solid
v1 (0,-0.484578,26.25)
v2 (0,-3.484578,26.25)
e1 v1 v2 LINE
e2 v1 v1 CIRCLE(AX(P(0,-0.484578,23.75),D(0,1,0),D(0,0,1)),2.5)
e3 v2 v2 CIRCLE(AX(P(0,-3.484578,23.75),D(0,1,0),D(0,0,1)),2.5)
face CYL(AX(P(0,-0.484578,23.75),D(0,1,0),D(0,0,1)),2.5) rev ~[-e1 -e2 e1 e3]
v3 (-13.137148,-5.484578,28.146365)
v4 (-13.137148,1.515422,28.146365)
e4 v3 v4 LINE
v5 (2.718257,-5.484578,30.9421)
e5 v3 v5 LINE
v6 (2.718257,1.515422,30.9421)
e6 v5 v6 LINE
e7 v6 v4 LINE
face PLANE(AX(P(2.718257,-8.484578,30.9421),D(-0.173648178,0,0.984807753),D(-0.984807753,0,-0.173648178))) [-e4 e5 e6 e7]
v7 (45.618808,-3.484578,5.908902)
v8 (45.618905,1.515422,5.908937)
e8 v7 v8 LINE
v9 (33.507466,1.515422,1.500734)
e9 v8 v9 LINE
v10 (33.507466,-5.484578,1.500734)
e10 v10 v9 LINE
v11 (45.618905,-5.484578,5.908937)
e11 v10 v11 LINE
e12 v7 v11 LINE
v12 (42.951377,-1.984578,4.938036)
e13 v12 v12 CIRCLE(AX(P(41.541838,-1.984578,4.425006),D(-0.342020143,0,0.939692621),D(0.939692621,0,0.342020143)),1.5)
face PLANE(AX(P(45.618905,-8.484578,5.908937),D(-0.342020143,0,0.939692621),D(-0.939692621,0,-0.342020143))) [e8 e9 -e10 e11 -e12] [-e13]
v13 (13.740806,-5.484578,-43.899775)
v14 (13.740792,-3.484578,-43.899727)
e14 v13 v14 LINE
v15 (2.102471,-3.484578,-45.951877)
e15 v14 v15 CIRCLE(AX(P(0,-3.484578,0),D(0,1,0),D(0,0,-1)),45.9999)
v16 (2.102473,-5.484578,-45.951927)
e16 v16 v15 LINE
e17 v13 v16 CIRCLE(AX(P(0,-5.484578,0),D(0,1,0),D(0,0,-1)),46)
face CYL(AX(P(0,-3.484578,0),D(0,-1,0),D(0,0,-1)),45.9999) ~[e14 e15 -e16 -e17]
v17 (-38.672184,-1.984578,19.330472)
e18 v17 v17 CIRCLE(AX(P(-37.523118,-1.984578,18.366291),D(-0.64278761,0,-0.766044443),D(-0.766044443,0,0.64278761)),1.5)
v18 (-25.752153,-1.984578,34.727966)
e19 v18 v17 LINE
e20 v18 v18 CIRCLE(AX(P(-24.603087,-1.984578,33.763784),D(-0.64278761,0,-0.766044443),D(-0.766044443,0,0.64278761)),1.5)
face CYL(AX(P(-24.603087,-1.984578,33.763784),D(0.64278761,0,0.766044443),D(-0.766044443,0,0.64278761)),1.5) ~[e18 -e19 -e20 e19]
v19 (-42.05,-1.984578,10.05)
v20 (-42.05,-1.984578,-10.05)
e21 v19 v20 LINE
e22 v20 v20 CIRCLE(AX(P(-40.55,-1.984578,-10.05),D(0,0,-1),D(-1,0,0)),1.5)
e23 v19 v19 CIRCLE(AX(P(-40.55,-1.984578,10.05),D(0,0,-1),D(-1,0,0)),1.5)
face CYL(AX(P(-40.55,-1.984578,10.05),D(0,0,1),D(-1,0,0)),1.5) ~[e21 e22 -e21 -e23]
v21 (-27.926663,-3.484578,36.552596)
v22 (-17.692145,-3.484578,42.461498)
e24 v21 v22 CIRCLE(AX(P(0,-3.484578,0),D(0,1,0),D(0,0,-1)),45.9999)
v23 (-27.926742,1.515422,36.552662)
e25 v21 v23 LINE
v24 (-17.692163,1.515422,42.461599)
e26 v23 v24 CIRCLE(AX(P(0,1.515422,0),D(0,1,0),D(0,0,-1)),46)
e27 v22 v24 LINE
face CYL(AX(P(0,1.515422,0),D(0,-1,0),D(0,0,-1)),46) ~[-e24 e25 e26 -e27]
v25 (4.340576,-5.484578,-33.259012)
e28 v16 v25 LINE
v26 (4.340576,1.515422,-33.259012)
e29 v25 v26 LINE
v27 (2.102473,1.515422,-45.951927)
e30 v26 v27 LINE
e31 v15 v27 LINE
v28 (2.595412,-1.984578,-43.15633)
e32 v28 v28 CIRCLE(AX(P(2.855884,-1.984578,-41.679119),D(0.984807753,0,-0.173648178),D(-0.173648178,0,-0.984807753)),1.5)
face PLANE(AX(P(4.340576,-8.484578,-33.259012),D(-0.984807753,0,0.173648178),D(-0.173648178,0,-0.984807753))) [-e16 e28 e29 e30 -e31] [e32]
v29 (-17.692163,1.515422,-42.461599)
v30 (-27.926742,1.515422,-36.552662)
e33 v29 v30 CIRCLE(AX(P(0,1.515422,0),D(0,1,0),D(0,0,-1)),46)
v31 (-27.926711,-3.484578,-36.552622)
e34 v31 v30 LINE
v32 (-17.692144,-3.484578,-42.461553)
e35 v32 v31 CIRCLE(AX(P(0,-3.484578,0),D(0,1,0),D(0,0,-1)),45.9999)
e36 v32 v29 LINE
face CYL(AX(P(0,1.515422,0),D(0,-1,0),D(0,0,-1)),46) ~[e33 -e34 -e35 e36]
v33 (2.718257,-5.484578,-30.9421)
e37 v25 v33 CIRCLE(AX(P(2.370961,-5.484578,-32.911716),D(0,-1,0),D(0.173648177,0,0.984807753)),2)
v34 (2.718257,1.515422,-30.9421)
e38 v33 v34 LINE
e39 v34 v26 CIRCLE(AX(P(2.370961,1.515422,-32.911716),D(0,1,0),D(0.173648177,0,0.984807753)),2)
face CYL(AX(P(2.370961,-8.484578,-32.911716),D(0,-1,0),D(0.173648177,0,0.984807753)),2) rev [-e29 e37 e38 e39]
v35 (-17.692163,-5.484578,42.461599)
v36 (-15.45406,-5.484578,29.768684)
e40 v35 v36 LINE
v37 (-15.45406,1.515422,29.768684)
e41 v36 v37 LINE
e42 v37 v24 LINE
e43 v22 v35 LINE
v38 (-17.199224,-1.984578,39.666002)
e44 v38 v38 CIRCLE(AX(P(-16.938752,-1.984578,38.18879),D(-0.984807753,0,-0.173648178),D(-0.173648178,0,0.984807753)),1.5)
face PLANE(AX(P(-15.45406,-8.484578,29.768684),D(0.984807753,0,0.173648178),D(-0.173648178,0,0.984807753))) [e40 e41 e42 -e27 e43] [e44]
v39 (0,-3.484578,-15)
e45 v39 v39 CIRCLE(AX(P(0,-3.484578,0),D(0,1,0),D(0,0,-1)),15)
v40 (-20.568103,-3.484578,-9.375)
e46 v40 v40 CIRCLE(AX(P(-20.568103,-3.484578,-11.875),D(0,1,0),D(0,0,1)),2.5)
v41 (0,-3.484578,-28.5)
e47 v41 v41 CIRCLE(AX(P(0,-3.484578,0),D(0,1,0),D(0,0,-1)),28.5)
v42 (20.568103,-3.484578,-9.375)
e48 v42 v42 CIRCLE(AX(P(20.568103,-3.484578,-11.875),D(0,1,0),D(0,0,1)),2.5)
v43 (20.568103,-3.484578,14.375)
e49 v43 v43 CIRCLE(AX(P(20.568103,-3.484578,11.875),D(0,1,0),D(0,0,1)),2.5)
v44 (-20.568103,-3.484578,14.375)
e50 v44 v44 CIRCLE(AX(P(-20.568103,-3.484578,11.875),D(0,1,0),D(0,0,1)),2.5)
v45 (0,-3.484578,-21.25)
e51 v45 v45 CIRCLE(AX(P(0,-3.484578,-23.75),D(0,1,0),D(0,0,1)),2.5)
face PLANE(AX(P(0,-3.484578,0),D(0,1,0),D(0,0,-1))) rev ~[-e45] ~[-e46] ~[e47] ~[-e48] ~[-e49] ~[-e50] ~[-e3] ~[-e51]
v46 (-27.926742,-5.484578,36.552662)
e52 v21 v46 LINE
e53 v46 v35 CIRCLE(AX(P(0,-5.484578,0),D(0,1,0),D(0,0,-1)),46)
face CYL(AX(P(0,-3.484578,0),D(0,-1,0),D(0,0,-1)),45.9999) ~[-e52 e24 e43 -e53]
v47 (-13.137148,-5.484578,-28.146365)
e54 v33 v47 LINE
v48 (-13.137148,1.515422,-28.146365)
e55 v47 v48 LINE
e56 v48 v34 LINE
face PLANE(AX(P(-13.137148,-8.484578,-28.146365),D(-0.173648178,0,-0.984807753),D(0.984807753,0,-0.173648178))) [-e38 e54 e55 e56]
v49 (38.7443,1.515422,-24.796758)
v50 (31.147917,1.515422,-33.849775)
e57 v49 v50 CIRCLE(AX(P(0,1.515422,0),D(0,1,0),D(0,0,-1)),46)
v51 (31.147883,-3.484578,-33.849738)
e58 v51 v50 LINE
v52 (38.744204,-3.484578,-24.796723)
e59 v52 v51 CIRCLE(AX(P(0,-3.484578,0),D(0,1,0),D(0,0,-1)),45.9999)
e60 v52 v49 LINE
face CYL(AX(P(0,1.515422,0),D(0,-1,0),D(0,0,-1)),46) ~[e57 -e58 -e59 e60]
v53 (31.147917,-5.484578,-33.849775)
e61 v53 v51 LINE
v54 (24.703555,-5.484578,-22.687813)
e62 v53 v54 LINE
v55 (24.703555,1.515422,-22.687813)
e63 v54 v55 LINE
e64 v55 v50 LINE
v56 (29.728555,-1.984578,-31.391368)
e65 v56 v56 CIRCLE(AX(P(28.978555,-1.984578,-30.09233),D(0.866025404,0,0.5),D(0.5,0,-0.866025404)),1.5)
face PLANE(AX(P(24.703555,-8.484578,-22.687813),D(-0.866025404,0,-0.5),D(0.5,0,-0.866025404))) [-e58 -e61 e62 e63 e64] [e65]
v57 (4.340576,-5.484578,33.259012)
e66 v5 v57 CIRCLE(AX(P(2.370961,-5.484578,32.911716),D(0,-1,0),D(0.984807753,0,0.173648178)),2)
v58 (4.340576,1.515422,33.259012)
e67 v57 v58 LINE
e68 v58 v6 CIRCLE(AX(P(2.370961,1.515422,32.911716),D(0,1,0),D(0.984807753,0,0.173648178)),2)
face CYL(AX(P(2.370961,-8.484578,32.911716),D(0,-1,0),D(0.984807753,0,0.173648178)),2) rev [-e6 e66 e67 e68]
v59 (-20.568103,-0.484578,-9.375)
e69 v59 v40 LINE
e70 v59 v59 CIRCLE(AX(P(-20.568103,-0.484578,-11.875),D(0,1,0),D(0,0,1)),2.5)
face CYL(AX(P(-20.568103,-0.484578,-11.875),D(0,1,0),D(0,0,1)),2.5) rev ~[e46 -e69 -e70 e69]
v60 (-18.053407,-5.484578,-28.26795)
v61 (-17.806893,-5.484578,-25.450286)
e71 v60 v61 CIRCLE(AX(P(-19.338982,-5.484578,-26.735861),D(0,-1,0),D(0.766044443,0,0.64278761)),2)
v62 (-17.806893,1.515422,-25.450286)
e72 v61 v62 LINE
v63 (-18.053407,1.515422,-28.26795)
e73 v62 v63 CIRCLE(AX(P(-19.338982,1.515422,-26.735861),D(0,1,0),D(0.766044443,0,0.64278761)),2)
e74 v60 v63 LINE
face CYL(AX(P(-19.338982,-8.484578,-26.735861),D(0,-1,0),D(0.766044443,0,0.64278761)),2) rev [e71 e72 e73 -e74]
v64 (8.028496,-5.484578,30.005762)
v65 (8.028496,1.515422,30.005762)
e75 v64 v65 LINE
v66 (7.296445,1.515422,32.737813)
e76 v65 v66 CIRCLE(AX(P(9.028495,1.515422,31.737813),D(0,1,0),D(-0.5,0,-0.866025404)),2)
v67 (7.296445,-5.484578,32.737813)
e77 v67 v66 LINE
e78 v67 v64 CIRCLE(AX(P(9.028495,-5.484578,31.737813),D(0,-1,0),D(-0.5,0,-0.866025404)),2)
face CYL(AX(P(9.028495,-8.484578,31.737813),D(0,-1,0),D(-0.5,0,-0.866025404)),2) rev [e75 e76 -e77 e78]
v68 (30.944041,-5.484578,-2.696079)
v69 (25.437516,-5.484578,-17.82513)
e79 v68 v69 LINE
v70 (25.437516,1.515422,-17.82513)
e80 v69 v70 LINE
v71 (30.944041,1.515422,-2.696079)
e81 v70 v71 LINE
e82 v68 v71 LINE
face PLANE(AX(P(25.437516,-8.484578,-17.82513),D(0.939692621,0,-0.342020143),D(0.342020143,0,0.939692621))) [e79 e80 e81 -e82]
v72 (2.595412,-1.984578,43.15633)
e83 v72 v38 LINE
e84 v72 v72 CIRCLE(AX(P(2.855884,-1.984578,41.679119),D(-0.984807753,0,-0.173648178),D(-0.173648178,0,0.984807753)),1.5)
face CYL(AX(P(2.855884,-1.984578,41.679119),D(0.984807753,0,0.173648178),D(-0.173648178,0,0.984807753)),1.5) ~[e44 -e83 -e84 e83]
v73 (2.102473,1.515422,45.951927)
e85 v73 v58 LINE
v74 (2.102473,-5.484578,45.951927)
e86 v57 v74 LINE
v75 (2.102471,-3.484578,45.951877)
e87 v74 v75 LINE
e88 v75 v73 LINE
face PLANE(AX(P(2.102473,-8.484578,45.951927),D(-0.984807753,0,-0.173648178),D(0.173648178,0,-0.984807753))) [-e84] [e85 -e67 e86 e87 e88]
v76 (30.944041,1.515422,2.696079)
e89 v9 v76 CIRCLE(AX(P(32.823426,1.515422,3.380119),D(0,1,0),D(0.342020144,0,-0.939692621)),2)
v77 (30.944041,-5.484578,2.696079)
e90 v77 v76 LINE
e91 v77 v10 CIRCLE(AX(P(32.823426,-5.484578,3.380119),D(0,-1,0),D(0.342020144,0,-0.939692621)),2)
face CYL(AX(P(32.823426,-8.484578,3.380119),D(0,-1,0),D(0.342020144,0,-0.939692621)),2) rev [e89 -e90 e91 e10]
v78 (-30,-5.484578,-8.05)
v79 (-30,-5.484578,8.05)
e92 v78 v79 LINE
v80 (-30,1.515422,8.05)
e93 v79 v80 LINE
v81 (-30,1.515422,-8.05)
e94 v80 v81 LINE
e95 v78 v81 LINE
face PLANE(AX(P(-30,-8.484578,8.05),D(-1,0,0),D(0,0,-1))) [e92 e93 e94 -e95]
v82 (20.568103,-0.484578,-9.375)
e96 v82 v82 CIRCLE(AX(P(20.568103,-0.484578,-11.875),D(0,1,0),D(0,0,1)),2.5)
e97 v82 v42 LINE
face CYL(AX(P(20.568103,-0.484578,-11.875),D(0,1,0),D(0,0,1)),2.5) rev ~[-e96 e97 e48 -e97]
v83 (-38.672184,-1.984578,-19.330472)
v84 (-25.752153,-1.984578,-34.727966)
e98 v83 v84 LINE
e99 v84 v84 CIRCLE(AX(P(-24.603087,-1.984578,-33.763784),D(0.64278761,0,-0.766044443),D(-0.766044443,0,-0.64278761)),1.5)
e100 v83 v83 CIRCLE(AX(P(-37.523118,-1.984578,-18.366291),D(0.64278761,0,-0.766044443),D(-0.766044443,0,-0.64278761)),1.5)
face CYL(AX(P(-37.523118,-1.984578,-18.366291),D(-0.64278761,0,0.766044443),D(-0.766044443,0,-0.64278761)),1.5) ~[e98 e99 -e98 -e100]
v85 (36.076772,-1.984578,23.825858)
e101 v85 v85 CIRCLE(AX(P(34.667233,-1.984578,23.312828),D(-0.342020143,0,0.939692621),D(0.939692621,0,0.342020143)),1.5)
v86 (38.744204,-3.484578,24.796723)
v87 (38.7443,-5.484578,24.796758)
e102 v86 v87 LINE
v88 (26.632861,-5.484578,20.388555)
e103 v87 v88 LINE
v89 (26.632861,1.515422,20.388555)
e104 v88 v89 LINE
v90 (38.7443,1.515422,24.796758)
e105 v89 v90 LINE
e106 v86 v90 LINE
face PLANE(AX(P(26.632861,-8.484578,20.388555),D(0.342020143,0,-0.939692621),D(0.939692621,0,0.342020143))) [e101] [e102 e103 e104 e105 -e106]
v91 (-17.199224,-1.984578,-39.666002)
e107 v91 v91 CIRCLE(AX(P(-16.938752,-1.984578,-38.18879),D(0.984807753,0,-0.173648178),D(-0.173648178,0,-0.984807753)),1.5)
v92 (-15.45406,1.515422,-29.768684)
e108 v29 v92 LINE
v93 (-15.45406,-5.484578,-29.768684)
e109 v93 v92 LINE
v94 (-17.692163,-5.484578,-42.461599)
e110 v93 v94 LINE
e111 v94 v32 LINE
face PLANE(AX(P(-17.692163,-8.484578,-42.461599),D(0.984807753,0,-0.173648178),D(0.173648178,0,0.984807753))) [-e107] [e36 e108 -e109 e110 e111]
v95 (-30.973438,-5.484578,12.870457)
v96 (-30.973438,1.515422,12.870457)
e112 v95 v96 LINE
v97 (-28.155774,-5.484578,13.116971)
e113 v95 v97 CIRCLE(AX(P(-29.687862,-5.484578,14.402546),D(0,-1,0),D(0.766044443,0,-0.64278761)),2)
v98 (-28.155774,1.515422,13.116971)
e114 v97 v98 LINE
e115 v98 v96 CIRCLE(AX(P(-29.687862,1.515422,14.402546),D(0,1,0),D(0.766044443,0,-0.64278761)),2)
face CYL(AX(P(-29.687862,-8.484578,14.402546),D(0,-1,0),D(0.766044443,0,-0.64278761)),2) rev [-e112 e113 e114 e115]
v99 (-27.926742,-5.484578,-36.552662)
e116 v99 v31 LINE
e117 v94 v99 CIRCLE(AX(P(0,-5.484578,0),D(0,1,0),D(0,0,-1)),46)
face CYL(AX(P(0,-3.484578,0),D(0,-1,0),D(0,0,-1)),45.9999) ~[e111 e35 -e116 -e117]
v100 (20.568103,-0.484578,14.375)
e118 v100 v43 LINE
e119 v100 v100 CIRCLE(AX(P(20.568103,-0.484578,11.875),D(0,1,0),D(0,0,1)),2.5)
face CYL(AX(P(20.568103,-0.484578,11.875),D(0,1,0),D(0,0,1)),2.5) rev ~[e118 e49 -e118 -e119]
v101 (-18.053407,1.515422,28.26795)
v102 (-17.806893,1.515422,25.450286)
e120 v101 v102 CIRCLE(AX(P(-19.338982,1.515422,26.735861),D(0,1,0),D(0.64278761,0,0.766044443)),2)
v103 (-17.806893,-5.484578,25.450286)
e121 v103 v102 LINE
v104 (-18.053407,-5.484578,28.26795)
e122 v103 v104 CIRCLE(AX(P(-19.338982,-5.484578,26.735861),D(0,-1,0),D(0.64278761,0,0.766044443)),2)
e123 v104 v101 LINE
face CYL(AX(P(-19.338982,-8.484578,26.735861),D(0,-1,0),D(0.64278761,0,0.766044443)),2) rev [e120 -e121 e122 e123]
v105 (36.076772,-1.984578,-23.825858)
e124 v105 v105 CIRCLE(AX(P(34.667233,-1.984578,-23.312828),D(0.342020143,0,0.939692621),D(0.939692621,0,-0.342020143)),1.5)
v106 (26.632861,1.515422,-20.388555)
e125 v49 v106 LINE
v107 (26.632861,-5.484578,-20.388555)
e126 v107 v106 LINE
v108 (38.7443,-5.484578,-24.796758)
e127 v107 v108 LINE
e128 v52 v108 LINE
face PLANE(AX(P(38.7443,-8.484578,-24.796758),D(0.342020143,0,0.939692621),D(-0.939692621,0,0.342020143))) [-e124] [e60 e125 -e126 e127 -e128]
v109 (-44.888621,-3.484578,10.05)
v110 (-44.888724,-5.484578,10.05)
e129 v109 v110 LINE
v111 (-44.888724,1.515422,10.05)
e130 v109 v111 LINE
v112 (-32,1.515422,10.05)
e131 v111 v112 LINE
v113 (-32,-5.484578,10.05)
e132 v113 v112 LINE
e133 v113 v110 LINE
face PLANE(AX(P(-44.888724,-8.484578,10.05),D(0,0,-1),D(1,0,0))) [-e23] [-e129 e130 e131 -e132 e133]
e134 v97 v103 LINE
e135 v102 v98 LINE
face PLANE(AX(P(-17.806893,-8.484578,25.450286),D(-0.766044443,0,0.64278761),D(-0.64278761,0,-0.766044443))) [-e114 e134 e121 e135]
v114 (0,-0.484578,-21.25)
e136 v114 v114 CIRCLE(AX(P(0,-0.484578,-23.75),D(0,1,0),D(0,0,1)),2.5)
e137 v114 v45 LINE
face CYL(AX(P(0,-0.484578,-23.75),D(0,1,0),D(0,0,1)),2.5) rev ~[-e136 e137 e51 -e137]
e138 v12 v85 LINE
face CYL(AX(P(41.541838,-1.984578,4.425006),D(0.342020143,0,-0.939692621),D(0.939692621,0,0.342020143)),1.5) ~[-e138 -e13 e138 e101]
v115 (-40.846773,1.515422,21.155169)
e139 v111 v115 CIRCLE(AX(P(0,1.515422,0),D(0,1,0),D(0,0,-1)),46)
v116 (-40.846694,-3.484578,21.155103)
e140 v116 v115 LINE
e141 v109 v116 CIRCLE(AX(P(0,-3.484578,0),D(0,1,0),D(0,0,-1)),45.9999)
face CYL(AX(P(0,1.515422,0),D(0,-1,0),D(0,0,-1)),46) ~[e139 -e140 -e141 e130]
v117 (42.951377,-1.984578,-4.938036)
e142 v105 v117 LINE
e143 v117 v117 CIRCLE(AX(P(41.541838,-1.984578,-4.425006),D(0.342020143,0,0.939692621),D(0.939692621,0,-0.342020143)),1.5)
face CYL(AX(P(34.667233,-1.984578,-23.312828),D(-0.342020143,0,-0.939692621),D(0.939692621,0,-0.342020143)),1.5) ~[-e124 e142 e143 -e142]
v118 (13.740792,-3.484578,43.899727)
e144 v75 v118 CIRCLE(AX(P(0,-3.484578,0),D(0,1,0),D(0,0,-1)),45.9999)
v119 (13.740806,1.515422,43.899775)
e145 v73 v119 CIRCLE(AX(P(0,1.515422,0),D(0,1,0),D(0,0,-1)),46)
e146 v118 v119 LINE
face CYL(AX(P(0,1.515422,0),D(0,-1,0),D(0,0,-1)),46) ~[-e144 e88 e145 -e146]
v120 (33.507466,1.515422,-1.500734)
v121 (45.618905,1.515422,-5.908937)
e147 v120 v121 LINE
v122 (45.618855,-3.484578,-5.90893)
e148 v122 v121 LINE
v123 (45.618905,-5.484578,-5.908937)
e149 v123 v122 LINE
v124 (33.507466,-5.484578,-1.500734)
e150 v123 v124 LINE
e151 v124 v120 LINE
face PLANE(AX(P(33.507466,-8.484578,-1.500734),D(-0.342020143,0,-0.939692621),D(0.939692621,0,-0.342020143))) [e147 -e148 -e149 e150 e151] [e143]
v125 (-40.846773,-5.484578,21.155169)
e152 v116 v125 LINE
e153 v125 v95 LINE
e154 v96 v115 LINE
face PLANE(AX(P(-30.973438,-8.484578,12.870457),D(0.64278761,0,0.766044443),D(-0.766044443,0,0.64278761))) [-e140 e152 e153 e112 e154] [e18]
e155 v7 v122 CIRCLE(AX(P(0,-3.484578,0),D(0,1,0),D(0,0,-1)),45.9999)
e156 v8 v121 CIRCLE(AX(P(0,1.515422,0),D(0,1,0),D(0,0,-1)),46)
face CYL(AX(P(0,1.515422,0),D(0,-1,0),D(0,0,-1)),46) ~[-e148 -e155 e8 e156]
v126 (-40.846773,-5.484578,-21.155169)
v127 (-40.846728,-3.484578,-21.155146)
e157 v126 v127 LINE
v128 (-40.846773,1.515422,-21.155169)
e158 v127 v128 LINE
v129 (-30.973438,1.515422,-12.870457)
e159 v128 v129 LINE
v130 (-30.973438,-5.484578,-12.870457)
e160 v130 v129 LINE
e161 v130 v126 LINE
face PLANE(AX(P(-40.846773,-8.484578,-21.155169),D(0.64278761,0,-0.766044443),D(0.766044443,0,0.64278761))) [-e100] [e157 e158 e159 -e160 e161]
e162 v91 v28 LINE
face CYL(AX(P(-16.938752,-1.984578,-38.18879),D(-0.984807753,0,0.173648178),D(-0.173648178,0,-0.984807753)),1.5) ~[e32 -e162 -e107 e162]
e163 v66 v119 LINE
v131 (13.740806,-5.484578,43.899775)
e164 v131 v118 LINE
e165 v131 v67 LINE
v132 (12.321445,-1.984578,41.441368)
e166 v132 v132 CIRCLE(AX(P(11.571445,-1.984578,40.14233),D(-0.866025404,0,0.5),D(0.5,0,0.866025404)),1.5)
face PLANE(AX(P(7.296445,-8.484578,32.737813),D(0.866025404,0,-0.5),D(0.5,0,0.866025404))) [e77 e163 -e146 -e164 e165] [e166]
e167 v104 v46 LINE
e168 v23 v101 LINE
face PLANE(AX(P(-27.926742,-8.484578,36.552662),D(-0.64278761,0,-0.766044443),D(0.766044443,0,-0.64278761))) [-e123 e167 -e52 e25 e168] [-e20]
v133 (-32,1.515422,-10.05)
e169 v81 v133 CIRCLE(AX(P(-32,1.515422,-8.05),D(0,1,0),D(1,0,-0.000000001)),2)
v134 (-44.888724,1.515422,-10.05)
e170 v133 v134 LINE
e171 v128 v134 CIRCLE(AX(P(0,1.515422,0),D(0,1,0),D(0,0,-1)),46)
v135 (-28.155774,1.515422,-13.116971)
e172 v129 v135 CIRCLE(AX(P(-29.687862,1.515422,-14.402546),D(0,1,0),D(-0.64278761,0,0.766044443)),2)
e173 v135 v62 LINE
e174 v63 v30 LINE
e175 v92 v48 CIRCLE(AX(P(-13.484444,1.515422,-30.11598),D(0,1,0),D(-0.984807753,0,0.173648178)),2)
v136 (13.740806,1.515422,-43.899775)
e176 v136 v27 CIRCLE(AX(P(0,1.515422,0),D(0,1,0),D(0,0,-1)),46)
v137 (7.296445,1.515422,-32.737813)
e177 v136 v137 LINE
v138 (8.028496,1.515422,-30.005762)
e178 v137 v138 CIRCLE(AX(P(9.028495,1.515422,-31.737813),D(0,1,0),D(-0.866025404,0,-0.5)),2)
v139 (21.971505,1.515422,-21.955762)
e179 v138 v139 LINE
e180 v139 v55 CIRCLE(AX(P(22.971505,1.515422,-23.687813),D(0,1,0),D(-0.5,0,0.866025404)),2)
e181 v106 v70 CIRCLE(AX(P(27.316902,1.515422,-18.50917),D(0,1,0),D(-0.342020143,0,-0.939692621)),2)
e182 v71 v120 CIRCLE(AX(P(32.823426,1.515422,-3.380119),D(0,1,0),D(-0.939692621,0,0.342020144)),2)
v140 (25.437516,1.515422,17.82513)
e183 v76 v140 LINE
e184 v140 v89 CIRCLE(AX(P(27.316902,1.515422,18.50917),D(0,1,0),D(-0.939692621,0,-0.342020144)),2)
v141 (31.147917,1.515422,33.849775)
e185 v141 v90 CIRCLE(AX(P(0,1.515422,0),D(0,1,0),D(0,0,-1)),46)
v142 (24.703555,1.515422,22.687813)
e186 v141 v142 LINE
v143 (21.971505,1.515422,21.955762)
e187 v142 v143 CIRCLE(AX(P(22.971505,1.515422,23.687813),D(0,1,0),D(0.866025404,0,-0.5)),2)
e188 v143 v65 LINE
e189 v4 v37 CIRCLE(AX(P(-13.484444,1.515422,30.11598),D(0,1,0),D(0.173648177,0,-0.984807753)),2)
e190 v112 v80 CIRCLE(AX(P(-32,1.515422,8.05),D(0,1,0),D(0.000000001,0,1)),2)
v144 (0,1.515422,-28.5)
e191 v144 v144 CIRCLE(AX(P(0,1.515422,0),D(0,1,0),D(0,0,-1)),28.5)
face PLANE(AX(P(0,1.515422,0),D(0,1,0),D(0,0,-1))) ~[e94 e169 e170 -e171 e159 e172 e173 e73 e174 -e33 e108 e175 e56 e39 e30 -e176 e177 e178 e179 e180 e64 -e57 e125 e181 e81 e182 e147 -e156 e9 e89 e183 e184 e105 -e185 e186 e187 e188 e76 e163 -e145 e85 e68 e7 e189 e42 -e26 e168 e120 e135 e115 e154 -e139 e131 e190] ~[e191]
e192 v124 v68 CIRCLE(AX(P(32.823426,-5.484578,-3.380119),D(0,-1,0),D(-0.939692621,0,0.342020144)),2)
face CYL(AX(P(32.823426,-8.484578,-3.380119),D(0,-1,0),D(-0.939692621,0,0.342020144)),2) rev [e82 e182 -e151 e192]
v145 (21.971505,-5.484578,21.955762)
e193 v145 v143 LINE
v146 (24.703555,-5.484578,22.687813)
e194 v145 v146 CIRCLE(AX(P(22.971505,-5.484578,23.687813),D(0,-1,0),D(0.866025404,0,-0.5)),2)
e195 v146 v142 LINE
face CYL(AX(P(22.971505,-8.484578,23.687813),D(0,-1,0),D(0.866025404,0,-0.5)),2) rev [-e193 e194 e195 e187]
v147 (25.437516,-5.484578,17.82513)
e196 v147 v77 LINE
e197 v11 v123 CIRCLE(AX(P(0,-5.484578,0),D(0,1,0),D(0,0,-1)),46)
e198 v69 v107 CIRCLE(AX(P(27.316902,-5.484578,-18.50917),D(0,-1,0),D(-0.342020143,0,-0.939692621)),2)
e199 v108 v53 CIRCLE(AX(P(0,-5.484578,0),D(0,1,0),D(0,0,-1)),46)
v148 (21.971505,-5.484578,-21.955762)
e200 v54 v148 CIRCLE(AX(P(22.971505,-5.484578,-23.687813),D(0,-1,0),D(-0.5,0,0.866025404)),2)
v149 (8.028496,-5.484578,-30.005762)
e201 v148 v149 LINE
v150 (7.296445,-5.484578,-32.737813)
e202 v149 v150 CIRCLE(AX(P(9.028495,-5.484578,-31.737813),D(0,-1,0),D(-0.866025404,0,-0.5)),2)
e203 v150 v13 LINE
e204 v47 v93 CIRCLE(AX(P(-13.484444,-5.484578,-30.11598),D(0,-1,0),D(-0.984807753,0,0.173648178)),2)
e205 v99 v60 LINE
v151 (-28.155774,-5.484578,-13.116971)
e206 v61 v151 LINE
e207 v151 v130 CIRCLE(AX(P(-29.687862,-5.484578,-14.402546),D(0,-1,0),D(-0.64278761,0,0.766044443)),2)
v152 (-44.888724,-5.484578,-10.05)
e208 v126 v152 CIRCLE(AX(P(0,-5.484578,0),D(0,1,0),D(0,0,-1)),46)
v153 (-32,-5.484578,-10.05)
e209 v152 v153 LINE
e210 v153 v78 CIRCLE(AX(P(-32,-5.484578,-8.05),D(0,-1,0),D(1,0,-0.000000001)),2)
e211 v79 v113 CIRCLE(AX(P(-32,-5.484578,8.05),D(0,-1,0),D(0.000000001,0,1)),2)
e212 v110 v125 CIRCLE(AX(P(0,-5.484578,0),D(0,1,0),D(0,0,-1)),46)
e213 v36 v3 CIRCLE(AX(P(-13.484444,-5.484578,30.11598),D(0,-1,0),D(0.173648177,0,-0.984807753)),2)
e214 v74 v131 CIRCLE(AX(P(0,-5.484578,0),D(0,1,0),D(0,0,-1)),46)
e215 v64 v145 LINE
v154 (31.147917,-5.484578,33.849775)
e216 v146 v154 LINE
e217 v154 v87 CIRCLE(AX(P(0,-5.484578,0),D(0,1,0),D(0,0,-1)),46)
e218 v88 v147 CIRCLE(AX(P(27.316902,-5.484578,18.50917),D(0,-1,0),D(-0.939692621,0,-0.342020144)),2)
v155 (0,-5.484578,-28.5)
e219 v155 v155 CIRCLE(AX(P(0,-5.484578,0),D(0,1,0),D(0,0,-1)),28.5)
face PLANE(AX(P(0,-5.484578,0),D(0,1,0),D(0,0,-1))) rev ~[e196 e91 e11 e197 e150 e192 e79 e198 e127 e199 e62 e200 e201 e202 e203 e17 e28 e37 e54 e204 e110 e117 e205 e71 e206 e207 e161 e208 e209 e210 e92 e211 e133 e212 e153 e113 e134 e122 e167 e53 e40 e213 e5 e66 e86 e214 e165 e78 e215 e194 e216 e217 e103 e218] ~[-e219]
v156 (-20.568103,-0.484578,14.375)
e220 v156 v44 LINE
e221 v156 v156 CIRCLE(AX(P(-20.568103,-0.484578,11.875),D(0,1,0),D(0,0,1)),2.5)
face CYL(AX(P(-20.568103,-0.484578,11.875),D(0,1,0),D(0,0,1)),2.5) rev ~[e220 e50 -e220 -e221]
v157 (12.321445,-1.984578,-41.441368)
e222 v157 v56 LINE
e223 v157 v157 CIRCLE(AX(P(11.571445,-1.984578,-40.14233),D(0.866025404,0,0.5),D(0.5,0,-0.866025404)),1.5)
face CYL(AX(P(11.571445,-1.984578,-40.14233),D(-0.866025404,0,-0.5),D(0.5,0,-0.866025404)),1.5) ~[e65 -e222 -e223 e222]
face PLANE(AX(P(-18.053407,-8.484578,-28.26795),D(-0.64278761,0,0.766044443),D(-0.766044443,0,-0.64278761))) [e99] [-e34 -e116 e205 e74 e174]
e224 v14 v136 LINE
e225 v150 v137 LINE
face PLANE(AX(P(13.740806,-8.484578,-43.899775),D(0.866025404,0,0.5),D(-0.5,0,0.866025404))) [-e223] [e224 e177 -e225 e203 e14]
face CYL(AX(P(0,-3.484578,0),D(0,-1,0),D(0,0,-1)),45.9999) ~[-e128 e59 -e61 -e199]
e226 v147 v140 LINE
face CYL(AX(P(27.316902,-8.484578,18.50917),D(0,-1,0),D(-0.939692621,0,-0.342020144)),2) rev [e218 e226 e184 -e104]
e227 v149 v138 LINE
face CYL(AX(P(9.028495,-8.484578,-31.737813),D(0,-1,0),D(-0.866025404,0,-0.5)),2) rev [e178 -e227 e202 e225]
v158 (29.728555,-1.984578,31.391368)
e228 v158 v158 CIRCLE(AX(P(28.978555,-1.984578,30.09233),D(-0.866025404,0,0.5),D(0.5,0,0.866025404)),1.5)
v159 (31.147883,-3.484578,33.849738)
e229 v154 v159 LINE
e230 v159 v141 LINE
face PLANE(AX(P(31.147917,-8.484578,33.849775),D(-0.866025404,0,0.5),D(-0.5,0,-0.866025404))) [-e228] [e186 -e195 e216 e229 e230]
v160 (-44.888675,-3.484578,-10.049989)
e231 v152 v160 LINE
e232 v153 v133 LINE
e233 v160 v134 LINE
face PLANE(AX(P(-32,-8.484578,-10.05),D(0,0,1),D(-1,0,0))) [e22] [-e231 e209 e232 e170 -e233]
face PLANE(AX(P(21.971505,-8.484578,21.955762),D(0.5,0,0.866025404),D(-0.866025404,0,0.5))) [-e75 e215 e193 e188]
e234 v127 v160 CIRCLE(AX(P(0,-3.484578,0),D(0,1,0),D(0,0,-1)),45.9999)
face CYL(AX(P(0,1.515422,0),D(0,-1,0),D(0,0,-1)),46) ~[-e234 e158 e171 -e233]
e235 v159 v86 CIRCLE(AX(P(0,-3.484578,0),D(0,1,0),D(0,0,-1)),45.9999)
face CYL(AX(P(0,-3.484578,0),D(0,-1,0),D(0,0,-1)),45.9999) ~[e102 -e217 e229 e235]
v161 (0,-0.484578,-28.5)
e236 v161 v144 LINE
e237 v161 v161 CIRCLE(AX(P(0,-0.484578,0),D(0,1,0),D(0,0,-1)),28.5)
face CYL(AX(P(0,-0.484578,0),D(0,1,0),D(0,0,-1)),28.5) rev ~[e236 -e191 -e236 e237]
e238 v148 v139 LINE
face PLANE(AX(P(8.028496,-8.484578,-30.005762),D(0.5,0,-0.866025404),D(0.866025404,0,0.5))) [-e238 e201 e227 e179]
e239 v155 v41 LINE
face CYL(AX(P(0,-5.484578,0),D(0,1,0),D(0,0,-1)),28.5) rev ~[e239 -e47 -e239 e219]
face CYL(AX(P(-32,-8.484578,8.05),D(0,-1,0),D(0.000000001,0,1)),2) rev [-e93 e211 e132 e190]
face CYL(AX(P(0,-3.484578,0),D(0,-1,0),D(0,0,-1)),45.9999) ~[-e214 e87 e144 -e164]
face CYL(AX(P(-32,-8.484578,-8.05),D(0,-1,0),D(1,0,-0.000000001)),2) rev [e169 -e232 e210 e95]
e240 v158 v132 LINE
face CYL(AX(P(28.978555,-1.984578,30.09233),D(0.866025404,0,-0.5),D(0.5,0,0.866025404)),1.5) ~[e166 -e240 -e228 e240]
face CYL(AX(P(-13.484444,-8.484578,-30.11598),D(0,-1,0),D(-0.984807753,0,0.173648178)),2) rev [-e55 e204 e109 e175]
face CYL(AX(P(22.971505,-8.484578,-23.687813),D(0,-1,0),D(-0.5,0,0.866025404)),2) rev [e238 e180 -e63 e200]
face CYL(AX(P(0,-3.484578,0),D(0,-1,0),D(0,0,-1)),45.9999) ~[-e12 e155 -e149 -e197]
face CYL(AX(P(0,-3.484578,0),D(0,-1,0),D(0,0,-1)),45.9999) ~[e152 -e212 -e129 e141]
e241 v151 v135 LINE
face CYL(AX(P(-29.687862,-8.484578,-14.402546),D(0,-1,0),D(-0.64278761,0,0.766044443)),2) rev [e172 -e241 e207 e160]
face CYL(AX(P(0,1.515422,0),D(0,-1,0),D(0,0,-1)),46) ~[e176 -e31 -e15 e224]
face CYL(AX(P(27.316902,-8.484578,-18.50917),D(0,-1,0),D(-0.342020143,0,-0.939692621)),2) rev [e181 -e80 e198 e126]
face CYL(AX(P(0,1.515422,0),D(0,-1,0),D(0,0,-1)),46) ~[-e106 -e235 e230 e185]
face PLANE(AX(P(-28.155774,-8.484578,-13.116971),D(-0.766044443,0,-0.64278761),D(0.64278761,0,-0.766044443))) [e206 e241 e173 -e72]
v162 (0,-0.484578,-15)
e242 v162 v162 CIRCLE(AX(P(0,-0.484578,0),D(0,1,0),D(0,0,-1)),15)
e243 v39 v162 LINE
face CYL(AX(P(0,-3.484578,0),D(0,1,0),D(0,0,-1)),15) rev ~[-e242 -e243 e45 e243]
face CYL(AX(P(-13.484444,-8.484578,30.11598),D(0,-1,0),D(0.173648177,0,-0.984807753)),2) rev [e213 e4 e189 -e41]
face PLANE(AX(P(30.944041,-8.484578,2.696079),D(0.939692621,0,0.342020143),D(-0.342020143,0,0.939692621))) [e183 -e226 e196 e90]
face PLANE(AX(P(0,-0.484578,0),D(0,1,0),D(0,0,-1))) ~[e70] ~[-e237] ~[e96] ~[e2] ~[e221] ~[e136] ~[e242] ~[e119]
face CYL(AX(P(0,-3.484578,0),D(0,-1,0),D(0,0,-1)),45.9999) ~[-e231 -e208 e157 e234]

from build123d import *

# Parameters (mm, degrees)
SKETCH_2_R               = 2.5
CUT_EXTRUDE_1_DEPTH      = 10
CUT_EXTRUDE_START        = -10
CUT_EXTRUDE_3_DEPTH      = 10
SKETCH_5_R               = 1.5
EXTRUDE_1_DEPTH          = 20.1
PATTERN_CIRCULAR_8_COUNT = 9


with BuildPart() as part:
    # ｽｹｯﾁ1 → 回転1 (revolve)
    with BuildSketch(Plane.XY, mode=Mode.PRIVATE) as revolve_1_sk:
        Polygon((-15, -3.484577548), (-15, -0.484577548), (-28.5, -0.484577548), (-28.5, 1.515422452), (-46, 1.515422452), (-46, -0.484577548), (-45.9999, -3.484577548), (-46, -5.484577548), (-28.5, -5.484577548), (-28.5, -3.484577548), align=None)
    revolve(revolve_1_sk.sketch.rotate(Axis((0, 0, 0), (0, 1, 0)), 270), axis=Axis((0, 0, 0), (0, 1, 0)))

    # ｽｹｯﾁ2 → ｶｯﾄ - 押し出し1 (cut)
    with BuildSketch(Plane(origin=(0, -0.484577548, 0), x_dir=(1, 0, 0), z_dir=(0, 1, 0))):
        with Locations(Location((0, 23.75, 0), (0, 0, 270))):
            Circle(SKETCH_2_R)
        with Locations(Location((20.56810334, 11.875, 0), (0, 0, 270))):
            Circle(SKETCH_2_R)
        with Locations(Location((20.56810334, -11.875, 0), (0, 0, 270))):
            Circle(SKETCH_2_R)
        with Locations(Location((0, -23.75, 0), (0, 0, 270))):
            Circle(SKETCH_2_R)
        with Locations(Location((-20.56810334, -11.875, 0), (0, 0, 270))):
            Circle(SKETCH_2_R)
        with Locations(Location((-20.56810334, 11.875, 0), (0, 0, 270))):
            Circle(SKETCH_2_R)
    extrude(amount=-CUT_EXTRUDE_1_DEPTH, mode=Mode.SUBTRACT)

    # ｽｹｯﾁ3 → ｶｯﾄ - 押し出し3 (cut)
    with BuildSketch(Plane(origin=(0, 1.515422452, 0), x_dir=(1, 0, 0), z_dir=(0, 1, 0)).offset(CUT_EXTRUDE_START)):
        with BuildLine():
            Line((4.340576232, 33.259012282), (2.102472879, 45.951927139))
            ThreePointArc((2.102472879, 45.951927139), (-7.987816173, 45.301156639), (-17.692162956, 42.461598768))
            Line((-17.692162956, 42.461598768), (-15.454059603, 29.768683911))
            ThreePointArc((-15.454059603, 29.768683911), (-14.63159697, 28.477676178), (-13.137147742, 28.14636476))
            Line((-13.137147742, 28.14636476), (2.718257082, 30.942100421))
            ThreePointArc((2.718257082, 30.942100421), (4.009264815, 31.764563054), (4.340576232, 33.259012282))
        make_face()
        with BuildLine():
            Line((8.0284955, 30.005762114), (21.9715045, 21.955762114))
            ThreePointArc((21.9715045, 21.955762114), (23.489142591, 21.755961269), (24.703555308, 22.687812921))
            Line((24.703555308, 22.687812921), (31.147917072, 33.849774919))
            ThreePointArc((31.147917072, 33.849774919), (23, 39.837168574), (13.740806456, 43.899774919))
            Line((13.740806456, 43.899774919), (7.296444692, 32.737812921))
            ThreePointArc((7.296444692, 32.737812921), (7.096643847, 31.220174831), (8.0284955, 30.005762114))
        make_face()
        with BuildLine():
            ThreePointArc((45.618904696, 5.908936816), (43.225860556, 15.732926593), (38.744299816, 24.796758494))
            Line((38.744299816, 24.796758494), (26.632861425, 20.388555425))
            ThreePointArc((26.632861425, 20.388555425), (25.504286137, 19.354406707), (25.43751647, 17.825129897))
            Line((25.43751647, 17.825129897), (30.944040777, 2.696078702))
            ThreePointArc((30.944040777, 2.696078702), (31.978189495, 1.567503415), (33.507466306, 1.500733748))
            Line((33.507466306, 1.500733748), (45.618904696, 5.908936816))
        make_face()
        with BuildLine():
            ThreePointArc((38.744299816, -24.796758494), (43.225860556, -15.732926593), (45.618904696, -5.908936816))
            Line((45.618904696, -5.908936816), (33.507466306, -1.500733748))
            ThreePointArc((33.507466306, -1.500733748), (31.978189495, -1.567503415), (30.944040777, -2.696078702))
            Line((30.944040777, -2.696078702), (25.43751647, -17.825129897))
            ThreePointArc((25.43751647, -17.825129897), (25.504286137, -19.354406707), (26.632861425, -20.388555425))
            Line((26.632861425, -20.388555425), (38.744299816, -24.796758494))
        make_face()
        with BuildLine():
            ThreePointArc((13.740806456, -43.899774919), (23, -39.837168574), (31.147917072, -33.849774919))
            Line((31.147917072, -33.849774919), (24.703555308, -22.687812921))
            ThreePointArc((24.703555308, -22.687812921), (23.489142591, -21.755961269), (21.9715045, -21.955762114))
            Line((21.9715045, -21.955762114), (8.0284955, -30.005762114))
            ThreePointArc((8.0284955, -30.005762114), (7.096643847, -31.220174831), (7.296444692, -32.737812921))
            Line((7.296444692, -32.737812921), (13.740806456, -43.899774919))
        make_face()
        with BuildLine():
            ThreePointArc((-17.692162956, -42.461598768), (-7.987816173, -45.301156639), (2.102472879, -45.951927139))
            Line((2.102472879, -45.951927139), (4.340576232, -33.259012282))
            ThreePointArc((4.340576232, -33.259012282), (4.009264815, -31.764563054), (2.718257082, -30.942100421))
            Line((2.718257082, -30.942100421), (-13.137147742, -28.14636476))
            ThreePointArc((-13.137147742, -28.14636476), (-14.63159697, -28.477676178), (-15.454059603, -29.768683911))
            Line((-15.454059603, -29.768683911), (-17.692162956, -42.461598768))
        make_face()
        with BuildLine():
            Line((-30.973437657, -12.870456857), (-40.846772695, -21.155168645))
            ThreePointArc((-40.846772695, -21.155168645), (-35.238044383, -29.568230046), (-27.92674174, -36.552661952))
            Line((-27.92674174, -36.552661952), (-18.053406702, -28.267950163))
            ThreePointArc((-18.053406702, -28.267950163), (-17.346592526, -26.910172763), (-17.806893036, -25.450286058))
            Line((-17.806893036, -25.450286058), (-28.155773552, -13.116970523))
            ThreePointArc((-28.155773552, -13.116970523), (-29.513550952, -12.410156347), (-30.973437657, -12.870456857))
        make_face()
        with BuildLine():
            Line((-32, 10.05), (-44.888723528, 10.05))
            ThreePointArc((-44.888723528, 10.05), (-46, 0), (-44.888723528, -10.05))
            Line((-44.888723528, -10.05), (-32, -10.05))
            ThreePointArc((-32, -10.05), (-30.585786438, -9.464213562), (-30, -8.05))
            Line((-30, -8.05), (-30, 8.05))
            ThreePointArc((-30, 8.05), (-30.585786438, 9.464213562), (-32, 10.05))
        make_face()
        with BuildLine():
            Line((-18.053406702, 28.267950163), (-27.92674174, 36.552661952))
            ThreePointArc((-27.92674174, 36.552661952), (-35.238044383, 29.568230046), (-40.846772695, 21.155168645))
            Line((-40.846772695, 21.155168645), (-30.973437657, 12.870456857))
            ThreePointArc((-30.973437657, 12.870456857), (-29.513550952, 12.410156347), (-28.155773552, 13.116970523))
            Line((-28.155773552, 13.116970523), (-17.806893036, 25.450286058))
            ThreePointArc((-17.806893036, 25.450286058), (-17.346592526, 26.910172763), (-18.053406702, 28.267950163))
        make_face()
    extrude(amount=CUT_EXTRUDE_3_DEPTH, mode=Mode.SUBTRACT)

    # ｽｹｯﾁ5 → ﾎﾞｽ - 押し出し1 (add)
    with BuildSketch(Plane(origin=(-9.897317918, 0, 1.745164186), x_dir=(-0.1736481776669516, 0, -0.9848077530122044), z_dir=(0.9848077530122044, 0, -0.1736481776669516))):
        with Locations((40.55, -1.984577548)):
            Circle(SKETCH_5_R)
    extrude_1 = extrude(amount=EXTRUDE_1_DEPTH)

    # 円形ﾊﾟﾀｰﾝ8: ﾎﾞｽ - 押し出し1 ×9 about axis
    pattern_circular_8_axis = Axis((0, 0, 0), (0, -1, 0))
    for i in range(1, PATTERN_CIRCULAR_8_COUNT):
        add(extrude_1.rotate(pattern_circular_8_axis, i * 360 / PATTERN_CIRCULAR_8_COUNT))


solid = part.part
